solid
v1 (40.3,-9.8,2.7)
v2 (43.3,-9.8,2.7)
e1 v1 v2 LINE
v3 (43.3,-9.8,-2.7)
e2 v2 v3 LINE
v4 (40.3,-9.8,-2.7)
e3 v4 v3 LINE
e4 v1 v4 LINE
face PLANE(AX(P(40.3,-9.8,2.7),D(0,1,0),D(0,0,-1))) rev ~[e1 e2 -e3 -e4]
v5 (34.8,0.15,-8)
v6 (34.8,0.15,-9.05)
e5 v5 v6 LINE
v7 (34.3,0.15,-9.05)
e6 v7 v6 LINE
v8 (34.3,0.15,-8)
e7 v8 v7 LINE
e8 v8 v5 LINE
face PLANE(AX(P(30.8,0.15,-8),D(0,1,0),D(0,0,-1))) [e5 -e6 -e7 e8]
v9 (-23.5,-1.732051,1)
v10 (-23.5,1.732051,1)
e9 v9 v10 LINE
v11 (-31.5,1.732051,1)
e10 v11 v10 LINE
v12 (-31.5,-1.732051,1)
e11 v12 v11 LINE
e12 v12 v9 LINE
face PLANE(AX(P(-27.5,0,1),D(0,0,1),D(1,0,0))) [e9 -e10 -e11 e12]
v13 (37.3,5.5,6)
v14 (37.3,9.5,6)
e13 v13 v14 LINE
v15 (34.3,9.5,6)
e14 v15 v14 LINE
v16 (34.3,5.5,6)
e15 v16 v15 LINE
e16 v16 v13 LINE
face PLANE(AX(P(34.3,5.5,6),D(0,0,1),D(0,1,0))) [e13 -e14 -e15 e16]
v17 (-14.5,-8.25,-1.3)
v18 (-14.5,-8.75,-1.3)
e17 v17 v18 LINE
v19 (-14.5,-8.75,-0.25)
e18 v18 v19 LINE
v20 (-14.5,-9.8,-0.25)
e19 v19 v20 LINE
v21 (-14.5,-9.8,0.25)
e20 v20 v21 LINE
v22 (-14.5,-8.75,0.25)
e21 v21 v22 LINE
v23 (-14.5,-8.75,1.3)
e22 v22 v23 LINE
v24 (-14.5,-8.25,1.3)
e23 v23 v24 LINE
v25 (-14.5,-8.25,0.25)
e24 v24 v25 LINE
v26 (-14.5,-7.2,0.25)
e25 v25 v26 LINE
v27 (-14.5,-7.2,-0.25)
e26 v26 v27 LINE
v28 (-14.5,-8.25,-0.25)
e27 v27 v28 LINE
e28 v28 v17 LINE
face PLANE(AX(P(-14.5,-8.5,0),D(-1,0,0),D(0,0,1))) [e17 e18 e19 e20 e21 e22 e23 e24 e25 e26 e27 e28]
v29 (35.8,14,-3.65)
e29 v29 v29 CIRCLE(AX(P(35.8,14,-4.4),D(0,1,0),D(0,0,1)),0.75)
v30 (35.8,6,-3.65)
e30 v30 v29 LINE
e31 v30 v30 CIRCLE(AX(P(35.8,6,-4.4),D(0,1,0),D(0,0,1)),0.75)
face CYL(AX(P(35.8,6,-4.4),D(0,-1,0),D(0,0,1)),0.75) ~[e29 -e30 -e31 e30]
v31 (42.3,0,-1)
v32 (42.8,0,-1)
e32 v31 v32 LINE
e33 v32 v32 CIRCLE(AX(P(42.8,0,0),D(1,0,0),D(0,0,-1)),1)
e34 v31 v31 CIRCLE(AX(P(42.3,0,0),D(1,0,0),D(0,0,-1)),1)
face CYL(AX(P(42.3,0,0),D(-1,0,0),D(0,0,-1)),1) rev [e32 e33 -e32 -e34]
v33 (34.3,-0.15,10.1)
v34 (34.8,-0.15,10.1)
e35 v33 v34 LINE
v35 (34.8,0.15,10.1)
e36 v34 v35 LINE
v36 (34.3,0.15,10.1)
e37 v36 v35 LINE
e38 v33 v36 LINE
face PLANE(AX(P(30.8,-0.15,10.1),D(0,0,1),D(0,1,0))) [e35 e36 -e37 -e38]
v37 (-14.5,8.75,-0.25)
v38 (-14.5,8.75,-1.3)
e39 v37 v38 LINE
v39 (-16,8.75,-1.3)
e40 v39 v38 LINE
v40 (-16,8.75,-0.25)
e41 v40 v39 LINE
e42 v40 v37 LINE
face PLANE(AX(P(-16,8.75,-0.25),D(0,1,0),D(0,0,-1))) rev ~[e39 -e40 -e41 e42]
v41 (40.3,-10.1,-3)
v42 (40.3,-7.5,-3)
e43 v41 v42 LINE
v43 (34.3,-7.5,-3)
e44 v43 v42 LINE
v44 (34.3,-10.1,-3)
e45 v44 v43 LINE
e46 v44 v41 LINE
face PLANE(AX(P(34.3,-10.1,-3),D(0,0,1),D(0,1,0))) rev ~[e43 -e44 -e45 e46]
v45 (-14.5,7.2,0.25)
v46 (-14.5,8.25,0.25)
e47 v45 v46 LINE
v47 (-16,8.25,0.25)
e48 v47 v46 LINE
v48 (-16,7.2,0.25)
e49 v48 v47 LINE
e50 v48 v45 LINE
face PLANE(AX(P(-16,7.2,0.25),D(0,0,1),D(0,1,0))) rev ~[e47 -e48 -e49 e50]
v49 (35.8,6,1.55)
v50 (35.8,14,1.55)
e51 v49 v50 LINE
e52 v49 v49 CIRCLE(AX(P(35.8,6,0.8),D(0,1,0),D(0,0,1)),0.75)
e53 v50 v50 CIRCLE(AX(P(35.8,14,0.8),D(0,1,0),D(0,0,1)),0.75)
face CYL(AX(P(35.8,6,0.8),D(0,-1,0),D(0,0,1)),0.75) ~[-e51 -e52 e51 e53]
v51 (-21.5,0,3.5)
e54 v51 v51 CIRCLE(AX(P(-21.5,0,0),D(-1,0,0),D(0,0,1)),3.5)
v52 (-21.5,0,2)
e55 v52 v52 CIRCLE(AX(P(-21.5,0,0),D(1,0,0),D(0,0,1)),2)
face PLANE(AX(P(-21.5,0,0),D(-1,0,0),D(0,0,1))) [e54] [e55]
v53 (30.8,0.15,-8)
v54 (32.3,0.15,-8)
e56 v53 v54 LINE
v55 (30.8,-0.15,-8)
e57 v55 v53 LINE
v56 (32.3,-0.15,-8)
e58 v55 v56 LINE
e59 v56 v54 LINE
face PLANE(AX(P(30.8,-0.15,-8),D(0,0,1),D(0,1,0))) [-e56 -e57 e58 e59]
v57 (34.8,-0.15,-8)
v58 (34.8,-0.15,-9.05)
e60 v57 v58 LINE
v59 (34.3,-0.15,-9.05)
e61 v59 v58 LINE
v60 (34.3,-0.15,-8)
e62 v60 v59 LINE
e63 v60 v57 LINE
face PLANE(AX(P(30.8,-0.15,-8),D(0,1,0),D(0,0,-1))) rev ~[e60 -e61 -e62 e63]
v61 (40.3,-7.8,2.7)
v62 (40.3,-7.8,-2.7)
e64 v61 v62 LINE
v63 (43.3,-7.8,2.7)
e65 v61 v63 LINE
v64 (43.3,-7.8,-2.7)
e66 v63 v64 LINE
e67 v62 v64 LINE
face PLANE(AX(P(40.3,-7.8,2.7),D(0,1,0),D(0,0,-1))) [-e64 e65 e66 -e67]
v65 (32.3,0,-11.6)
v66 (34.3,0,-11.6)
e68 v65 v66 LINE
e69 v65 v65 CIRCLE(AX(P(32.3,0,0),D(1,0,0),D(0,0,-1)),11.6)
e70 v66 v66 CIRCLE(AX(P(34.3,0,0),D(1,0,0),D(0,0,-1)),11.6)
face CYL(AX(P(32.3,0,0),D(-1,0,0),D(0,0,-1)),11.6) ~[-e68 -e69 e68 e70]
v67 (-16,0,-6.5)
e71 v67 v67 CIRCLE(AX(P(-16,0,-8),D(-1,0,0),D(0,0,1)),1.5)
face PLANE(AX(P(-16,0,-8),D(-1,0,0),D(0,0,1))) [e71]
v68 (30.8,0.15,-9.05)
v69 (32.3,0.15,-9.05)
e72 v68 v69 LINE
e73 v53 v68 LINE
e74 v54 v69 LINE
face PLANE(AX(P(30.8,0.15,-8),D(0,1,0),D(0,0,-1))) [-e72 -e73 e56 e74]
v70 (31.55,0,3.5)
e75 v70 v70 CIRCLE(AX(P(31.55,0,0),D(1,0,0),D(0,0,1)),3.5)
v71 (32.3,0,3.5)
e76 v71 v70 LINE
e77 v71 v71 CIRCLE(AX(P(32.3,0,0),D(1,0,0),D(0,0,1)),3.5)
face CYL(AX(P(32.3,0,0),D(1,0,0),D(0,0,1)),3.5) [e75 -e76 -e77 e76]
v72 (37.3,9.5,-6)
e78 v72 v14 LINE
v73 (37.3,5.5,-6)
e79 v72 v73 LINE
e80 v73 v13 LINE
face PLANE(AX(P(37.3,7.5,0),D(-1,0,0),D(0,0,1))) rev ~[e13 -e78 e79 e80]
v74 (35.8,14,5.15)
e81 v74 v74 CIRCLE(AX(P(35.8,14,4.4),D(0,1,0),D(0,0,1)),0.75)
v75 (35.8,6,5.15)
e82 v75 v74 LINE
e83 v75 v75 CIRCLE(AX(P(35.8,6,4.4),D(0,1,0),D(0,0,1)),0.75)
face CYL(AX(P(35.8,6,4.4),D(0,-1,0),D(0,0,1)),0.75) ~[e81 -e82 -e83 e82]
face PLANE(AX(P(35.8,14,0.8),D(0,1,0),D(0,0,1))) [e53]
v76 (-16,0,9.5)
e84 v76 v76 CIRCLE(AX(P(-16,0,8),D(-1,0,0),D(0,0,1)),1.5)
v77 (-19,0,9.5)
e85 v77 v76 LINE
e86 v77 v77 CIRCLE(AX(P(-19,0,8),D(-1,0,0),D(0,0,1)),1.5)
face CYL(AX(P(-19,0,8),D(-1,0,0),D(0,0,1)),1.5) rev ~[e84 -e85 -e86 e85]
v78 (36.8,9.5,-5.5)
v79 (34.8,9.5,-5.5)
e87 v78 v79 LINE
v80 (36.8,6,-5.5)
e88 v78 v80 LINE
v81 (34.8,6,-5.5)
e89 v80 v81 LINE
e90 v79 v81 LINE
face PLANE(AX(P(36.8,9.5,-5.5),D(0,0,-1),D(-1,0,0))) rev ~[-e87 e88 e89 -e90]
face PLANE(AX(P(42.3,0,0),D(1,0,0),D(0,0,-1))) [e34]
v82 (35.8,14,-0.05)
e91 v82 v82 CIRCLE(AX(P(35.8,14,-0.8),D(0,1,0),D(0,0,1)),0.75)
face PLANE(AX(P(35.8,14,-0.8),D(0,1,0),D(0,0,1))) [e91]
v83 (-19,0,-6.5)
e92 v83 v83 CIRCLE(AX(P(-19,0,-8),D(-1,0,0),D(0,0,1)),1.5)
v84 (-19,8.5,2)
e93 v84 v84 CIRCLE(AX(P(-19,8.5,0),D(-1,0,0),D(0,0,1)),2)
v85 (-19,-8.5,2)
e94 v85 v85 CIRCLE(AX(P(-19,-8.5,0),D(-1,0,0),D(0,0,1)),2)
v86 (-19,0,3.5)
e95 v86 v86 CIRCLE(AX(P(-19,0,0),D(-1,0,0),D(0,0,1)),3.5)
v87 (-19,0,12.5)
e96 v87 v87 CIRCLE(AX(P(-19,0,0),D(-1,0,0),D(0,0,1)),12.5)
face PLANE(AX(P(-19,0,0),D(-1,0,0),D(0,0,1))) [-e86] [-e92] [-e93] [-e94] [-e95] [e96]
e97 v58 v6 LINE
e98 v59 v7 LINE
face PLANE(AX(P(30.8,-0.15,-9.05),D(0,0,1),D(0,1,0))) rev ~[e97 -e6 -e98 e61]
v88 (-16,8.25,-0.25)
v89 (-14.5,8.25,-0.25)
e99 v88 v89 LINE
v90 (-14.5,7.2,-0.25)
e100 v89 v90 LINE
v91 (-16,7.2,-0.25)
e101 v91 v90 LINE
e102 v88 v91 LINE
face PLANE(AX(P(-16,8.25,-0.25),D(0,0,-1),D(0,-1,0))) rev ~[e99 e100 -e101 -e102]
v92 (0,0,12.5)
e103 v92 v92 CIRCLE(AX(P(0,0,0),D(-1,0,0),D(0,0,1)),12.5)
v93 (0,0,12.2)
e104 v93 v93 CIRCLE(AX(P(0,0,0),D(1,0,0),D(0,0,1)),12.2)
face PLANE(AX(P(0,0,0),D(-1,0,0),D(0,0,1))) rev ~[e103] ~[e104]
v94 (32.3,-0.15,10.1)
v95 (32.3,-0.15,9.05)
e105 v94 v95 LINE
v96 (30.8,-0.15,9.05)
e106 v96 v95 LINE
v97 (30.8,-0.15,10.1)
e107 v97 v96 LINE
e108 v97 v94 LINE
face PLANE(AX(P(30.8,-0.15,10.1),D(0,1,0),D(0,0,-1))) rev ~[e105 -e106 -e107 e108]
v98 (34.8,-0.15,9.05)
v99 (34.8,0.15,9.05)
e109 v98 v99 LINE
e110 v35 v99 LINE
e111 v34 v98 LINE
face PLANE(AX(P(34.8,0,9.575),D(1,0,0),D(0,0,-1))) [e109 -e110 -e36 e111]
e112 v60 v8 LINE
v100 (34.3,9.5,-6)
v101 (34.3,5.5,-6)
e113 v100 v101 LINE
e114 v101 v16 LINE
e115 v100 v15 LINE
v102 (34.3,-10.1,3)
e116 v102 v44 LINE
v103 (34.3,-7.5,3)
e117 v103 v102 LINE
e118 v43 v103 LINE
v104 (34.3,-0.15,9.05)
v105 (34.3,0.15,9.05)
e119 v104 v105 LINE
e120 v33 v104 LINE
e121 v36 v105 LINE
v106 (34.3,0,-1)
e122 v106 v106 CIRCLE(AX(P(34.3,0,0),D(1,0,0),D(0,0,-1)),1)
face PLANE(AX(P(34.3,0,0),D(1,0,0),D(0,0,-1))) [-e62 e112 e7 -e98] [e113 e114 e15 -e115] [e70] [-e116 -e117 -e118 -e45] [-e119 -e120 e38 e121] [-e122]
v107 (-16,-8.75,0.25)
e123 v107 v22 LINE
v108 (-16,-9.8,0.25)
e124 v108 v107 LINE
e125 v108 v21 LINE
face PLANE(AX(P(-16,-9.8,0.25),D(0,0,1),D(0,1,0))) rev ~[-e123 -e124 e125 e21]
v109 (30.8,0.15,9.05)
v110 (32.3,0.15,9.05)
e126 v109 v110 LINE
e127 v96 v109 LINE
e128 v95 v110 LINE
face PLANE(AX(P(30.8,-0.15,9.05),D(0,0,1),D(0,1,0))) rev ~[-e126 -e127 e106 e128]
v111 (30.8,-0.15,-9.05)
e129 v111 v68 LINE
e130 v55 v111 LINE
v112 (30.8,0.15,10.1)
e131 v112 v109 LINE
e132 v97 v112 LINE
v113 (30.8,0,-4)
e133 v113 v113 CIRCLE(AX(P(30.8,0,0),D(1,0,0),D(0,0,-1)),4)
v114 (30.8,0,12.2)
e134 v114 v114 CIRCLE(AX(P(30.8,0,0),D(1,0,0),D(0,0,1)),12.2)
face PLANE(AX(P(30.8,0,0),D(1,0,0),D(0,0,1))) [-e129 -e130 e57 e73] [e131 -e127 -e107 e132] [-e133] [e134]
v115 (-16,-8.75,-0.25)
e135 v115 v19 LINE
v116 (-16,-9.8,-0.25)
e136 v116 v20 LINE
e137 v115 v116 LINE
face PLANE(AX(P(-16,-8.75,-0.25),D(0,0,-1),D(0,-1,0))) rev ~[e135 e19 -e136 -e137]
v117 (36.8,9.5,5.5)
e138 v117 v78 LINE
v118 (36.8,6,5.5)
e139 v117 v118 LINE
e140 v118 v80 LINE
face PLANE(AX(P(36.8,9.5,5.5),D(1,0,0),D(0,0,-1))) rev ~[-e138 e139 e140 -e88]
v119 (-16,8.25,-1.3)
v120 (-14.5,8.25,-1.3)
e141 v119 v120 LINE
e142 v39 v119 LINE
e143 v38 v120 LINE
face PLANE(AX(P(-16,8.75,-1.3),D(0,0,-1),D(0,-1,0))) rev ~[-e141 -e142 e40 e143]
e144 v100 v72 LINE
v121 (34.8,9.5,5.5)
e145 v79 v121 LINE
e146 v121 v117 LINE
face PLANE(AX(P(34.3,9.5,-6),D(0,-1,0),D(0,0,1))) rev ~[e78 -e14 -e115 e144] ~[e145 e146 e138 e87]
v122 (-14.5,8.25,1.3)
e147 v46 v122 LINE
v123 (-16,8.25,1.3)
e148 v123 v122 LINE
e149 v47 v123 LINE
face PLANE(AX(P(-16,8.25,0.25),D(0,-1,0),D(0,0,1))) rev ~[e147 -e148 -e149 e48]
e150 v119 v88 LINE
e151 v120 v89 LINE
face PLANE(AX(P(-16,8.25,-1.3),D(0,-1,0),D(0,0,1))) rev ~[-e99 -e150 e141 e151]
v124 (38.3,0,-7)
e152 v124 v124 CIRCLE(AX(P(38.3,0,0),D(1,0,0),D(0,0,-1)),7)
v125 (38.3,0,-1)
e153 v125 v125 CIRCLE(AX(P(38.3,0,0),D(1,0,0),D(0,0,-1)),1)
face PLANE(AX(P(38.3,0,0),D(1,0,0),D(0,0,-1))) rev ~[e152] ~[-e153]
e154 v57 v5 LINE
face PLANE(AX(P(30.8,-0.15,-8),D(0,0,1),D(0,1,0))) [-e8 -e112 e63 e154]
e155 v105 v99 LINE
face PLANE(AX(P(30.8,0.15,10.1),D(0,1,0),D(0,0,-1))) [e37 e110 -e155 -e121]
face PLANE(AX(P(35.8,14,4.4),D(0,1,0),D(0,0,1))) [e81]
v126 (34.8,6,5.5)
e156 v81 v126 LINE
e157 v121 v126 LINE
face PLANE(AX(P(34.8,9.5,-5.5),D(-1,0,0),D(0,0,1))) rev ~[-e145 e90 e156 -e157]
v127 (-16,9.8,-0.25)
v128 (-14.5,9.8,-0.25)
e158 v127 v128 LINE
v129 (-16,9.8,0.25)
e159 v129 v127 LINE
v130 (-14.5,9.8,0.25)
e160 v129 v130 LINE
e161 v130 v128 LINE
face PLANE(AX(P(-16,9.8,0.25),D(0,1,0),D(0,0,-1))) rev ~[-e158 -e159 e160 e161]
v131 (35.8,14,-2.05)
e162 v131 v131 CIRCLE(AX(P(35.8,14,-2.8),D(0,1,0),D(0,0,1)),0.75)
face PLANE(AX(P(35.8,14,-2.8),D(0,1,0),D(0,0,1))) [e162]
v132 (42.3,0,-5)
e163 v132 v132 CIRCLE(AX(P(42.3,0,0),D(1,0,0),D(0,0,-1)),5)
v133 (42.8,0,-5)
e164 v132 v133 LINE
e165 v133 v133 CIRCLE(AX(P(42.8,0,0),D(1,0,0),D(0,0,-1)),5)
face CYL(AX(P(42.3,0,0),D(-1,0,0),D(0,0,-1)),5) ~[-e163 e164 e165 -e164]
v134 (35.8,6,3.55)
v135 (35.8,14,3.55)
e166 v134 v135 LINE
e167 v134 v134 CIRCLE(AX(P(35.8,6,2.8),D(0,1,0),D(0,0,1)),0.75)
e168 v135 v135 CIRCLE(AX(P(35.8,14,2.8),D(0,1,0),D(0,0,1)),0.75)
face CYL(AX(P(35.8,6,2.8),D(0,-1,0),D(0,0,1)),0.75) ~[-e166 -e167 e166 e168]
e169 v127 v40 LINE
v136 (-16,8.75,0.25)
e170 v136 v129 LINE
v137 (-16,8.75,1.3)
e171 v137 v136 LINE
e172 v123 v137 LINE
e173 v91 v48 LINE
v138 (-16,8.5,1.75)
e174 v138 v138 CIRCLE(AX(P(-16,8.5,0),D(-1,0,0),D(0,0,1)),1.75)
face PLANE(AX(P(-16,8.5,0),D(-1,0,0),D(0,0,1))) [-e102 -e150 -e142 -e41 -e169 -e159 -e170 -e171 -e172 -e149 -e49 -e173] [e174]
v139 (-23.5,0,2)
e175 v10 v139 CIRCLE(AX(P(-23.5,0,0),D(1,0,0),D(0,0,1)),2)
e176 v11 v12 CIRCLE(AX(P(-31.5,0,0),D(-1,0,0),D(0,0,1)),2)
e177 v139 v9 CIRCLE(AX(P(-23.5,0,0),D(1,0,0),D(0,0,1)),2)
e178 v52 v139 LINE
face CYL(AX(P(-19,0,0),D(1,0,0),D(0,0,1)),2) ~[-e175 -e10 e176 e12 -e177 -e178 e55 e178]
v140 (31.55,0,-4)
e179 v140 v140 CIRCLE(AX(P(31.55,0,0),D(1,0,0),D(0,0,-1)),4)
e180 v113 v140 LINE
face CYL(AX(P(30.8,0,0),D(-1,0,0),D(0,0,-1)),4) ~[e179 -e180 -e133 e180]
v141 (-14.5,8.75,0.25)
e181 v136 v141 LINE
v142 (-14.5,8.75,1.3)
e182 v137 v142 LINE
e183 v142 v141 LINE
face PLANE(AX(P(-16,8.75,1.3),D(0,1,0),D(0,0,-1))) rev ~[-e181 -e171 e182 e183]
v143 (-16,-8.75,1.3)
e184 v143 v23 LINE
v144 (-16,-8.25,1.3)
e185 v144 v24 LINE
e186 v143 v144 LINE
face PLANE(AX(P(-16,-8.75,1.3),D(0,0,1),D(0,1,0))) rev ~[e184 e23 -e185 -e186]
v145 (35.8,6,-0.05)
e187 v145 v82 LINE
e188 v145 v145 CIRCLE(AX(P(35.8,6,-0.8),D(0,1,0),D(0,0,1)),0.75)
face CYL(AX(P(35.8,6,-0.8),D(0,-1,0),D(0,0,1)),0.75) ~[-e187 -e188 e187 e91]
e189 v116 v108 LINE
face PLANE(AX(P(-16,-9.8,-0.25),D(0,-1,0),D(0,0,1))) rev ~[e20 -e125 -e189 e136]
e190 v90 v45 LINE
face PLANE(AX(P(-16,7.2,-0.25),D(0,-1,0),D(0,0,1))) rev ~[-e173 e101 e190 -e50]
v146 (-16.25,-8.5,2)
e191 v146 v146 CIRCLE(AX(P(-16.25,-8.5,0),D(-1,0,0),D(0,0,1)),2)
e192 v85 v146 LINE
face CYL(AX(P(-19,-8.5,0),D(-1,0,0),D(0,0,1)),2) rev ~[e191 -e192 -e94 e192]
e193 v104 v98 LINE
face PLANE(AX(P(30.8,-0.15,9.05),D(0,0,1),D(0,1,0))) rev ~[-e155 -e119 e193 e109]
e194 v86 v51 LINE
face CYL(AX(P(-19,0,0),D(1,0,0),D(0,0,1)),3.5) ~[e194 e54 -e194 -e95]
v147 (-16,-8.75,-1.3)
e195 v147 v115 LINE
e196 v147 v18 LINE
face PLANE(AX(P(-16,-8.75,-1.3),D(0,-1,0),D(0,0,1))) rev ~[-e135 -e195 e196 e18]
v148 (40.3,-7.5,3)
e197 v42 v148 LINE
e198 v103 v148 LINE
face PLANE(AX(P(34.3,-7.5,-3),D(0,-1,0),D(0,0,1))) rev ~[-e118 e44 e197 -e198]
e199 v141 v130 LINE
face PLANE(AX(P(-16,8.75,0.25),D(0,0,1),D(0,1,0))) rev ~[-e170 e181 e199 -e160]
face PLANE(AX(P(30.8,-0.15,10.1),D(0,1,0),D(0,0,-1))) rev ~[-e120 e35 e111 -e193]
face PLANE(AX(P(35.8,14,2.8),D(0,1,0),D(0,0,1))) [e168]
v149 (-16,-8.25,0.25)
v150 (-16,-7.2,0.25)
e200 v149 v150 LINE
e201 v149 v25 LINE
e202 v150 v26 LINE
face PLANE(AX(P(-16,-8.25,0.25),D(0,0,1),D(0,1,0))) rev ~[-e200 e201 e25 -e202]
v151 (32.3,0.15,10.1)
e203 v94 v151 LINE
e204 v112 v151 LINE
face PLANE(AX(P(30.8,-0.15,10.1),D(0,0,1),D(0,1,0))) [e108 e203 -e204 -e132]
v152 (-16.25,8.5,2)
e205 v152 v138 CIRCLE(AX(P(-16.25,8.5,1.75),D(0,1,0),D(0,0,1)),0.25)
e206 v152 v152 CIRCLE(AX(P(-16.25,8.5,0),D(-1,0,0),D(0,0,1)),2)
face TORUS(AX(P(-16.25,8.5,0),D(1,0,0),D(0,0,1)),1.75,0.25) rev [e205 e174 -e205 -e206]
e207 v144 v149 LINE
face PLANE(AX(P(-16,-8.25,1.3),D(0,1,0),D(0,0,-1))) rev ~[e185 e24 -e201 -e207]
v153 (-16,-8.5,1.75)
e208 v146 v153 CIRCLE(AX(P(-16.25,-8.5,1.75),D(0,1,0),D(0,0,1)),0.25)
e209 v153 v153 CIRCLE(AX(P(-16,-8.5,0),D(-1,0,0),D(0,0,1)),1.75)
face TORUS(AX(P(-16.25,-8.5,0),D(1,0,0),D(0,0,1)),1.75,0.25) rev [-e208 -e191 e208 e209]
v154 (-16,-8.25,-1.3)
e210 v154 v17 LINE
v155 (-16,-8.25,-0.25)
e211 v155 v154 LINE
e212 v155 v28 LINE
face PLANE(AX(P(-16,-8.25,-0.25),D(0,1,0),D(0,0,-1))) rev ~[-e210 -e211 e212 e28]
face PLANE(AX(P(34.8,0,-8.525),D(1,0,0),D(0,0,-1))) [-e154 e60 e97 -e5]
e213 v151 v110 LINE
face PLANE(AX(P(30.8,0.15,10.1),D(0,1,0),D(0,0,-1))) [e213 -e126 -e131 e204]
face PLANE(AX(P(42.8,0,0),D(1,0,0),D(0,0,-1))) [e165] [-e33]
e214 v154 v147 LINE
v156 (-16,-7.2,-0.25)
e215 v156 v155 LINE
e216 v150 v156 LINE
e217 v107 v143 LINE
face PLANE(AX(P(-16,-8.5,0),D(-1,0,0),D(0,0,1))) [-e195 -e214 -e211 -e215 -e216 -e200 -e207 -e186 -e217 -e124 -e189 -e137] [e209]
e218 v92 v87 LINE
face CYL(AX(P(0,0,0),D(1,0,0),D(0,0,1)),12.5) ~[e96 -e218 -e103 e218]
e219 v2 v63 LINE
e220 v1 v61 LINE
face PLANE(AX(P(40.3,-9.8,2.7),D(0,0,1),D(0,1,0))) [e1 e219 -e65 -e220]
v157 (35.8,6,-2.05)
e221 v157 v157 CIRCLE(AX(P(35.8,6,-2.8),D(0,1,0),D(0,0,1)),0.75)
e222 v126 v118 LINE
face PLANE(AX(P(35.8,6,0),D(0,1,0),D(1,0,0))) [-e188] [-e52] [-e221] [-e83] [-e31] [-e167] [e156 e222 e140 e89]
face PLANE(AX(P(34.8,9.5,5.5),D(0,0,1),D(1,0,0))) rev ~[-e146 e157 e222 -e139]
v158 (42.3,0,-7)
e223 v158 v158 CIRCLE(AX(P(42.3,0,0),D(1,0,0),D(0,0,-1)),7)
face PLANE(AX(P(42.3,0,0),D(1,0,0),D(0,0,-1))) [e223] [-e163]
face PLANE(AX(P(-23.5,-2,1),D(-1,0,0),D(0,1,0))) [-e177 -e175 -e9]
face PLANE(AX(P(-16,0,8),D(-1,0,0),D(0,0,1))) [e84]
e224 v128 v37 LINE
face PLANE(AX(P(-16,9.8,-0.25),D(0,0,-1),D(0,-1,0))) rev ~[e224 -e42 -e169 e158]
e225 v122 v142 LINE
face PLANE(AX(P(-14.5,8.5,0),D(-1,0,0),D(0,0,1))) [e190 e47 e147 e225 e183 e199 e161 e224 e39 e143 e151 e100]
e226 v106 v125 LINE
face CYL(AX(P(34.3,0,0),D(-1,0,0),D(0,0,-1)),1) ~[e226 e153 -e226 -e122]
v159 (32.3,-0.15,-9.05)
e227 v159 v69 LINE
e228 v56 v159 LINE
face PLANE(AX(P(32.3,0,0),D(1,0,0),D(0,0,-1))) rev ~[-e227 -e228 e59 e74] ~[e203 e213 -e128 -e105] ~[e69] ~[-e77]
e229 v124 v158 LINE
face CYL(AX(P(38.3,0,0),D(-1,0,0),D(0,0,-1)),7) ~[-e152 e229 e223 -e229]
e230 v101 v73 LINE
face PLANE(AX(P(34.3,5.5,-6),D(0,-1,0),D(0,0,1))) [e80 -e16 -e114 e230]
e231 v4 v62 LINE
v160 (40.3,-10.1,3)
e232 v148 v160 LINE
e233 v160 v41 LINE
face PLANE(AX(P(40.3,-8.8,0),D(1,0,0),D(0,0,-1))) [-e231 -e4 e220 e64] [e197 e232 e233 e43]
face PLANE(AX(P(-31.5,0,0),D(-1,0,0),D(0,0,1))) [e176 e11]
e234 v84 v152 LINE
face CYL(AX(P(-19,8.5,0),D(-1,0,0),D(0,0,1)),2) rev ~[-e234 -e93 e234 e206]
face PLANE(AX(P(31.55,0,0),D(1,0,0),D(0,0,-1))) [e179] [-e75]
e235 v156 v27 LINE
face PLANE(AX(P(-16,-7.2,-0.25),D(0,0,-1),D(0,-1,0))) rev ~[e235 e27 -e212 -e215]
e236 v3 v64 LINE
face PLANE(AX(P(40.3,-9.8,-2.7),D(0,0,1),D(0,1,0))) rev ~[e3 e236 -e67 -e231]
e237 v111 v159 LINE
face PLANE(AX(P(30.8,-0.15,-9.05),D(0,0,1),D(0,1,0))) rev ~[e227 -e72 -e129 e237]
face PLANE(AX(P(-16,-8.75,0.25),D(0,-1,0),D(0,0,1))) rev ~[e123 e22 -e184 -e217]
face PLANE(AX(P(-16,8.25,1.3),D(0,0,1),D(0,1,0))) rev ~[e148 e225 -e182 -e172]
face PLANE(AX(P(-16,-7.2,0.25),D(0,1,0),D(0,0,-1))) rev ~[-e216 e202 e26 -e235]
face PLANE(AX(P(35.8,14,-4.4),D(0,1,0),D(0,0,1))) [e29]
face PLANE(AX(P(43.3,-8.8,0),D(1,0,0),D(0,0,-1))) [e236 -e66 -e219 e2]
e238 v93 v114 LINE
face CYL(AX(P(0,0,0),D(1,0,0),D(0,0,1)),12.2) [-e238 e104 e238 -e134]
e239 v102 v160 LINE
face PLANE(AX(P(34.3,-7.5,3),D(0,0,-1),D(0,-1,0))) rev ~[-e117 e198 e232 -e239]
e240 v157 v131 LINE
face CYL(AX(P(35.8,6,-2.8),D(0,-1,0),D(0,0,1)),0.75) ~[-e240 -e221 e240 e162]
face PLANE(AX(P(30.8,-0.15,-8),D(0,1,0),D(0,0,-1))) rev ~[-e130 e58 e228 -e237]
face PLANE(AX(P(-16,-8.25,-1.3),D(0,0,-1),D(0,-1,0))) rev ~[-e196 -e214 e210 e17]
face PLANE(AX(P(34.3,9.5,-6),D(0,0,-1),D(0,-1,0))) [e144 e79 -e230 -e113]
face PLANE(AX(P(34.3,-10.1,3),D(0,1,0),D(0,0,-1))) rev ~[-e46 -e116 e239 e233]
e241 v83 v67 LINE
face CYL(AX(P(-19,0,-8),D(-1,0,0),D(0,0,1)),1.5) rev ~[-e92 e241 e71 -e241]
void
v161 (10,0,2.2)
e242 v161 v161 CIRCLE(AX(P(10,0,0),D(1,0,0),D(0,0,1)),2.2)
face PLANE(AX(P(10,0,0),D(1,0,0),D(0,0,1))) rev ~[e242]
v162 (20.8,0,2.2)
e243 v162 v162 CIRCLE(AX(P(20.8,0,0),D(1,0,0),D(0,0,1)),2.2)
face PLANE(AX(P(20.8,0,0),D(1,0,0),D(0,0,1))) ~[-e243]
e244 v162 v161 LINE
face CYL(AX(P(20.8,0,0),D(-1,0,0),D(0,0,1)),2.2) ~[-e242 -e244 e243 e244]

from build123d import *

# Parameters (mm, degrees)
CROQUIS3_R               = 12.5
SALIENTE_EXTRUIR1_DEPTH  = 19
CROQUIS8_R               = 3.5
SALIENTE_EXTRUIR3_DEPTH  = 2.5
CROQUIS9_R               = 2
SALIENTE_EXTRUIR4_DEPTH  = 12.5
CROQUIS10_W              = 8
CROQUIS10_H              = 4
CORTAR_EXTRUIR5_DEPTH    = 5
CROQUIS11_R              = 1.5
CORTAR_EXTRUIR6_DEPTH    = 3
CROQUIS12_R              = 2
CORTAR_EXTRUIR7_DEPTH    = 3
CORTAR_EXTRUIR8_DEPTH    = 1.5
CORTAR_EXTRUIR9_DEPTH    = 1.5
REDONDEO1_R              = 0.25
CROQUIS16_W              = 1.05
CROQUIS16_H              = 0.3
SALIENTE_EXTRUIR5_DEPTH  = 4
CROQUIS17_R              = 4
SALIENTE_EXTRUIR6_DEPTH  = 0.75
SALIENTE_EXTRUIR7_START  = 0.75
CROQUIS18_R              = 3.5
SALIENTE_EXTRUIR7_DEPTH  = 0.75
CROQUIS19_R              = 11.6
SALIENTE_EXTRUIR8_DEPTH  = 2
CROQUIS20_R              = 1
SALIENTE_EXTRUIR9_DEPTH  = 4
CROQUIS21_R              = 7
SALIENTE_EXTRUIR10_DEPTH = 4
CROQUIS22_R              = 5
SALIENTE_EXTRUIR11_DEPTH = 0.5
CORTAR_EXTRUIR10_START   = -0.5
CROQUIS23_R              = 1
CORTAR_EXTRUIR10_DEPTH   = 0.5
SALIENTE_EXTRUIR12_DEPTH = 3
CORTAR_EXTRUIR11_DEPTH   = 3.5
CROQUIS26_R              = 0.75
SALIENTE_EXTRUIR13_DEPTH = 8
SALIENTE_EXTRUIR14_DEPTH = 6
CROQUIS28_W              = 5.4
CROQUIS28_H              = 2
SALIENTE_EXTRUIR15_DEPTH = 3


with BuildPart() as part:
    # Croquis1 → Revolución-Lámina1 (revolve)
    with BuildSketch(Plane.XY, mode=Mode.PRIVATE) as revoluci_n_l_mina1_sk:
        Polygon((0, 0), (0, 12.2), (30.8, 12.2), (30.8, 0), (20.8, 0), (20.8, 2.2), (10, 2.2), (10, 0), align=None)
    revolve(revoluci_n_l_mina1_sk.sketch.rotate(Axis((0, 0, 0), (1, 0, 0)), 90), axis=Axis((0, 0, 0), (1, 0, 0)))

    # Croquis3 → Saliente-Extruir1 (add)
    with BuildSketch(Plane.ZY):
        Circle(CROQUIS3_R)
    extrude(amount=SALIENTE_EXTRUIR1_DEPTH)

    # Croquis8 → Saliente-Extruir3 (add)
    with BuildSketch(Plane.ZY.offset(19)):
        Circle(CROQUIS8_R)
    extrude(amount=SALIENTE_EXTRUIR3_DEPTH)

    # Croquis9 → Saliente-Extruir4 (add)
    with BuildSketch(Plane.ZY.offset(19)):
        Circle(CROQUIS9_R)
    extrude(amount=SALIENTE_EXTRUIR4_DEPTH)

    # Croquis10 → Cortar-Extruir5 (cut)
    with BuildSketch(Plane.XY.offset(1)):
        with Locations((-27.5, 0)):
            Rectangle(CROQUIS10_W, CROQUIS10_H)
    extrude(amount=CORTAR_EXTRUIR5_DEPTH, mode=Mode.SUBTRACT)

    # Croquis11 → Cortar-Extruir6 (cut)
    with BuildSketch(Plane.ZY.offset(19)):
        with Locations((-8, 0)):
            Circle(CROQUIS11_R)
        with Locations((8, 0)):
            Circle(CROQUIS11_R)
    extrude(amount=-CORTAR_EXTRUIR6_DEPTH, mode=Mode.SUBTRACT)

    # Croquis12 → Cortar-Extruir7 (cut)
    with BuildSketch(Plane.ZY.offset(19)):
        with Locations((0, -8.5)):
            Circle(CROQUIS12_R)
        with Locations((0, 8.5)):
            Circle(CROQUIS12_R)
    extrude(amount=-CORTAR_EXTRUIR7_DEPTH, mode=Mode.SUBTRACT)

    # Croquis14 → Cortar-Extruir8 (cut)
    with BuildSketch(Plane.ZY.offset(16)):
        Polygon((-0.25, 8.25), (-0.25, 7.2), (0.25, 7.2), (0.25, 8.25), (1.3, 8.25), (1.3, 8.75), (0.25, 8.75), (0.25, 9.8), (-0.25, 9.8), (-0.25, 8.75), (-1.3, 8.75), (-1.3, 8.25), align=None)
    extrude(amount=-CORTAR_EXTRUIR8_DEPTH, mode=Mode.SUBTRACT)

    # Croquis15 → Cortar-Extruir9 (cut)
    with BuildSketch(Plane.ZY.offset(16)):
        Polygon((-0.25, -8.75), (-0.25, -9.8), (0.25, -9.8), (0.25, -8.75), (1.3, -8.75), (1.3, -8.25), (0.25, -8.25), (0.25, -7.2), (-0.25, -7.2), (-0.25, -8.25), (-1.3, -8.25), (-1.3, -8.75), align=None)
    extrude(amount=-CORTAR_EXTRUIR9_DEPTH, mode=Mode.SUBTRACT)

    # Redondeo1
    redondeo1_edges = [part.edges().sort_by_distance(p)[0] for p in [
        (-16, -8.5, -2),
        (-16, 8.5, -2),
    ]]
    fillet(redondeo1_edges, radius=REDONDEO1_R)

    # Croquis16 → Saliente-Extruir5 (add)
    with BuildSketch(Plane(origin=(30.8, 0, 0), x_dir=(0, 0, -1), z_dir=(1, 0, 0))):
        with Locations((-9.575, 0)):
            Rectangle(CROQUIS16_W, CROQUIS16_H)
        with Locations((8.525, 0)):
            Rectangle(CROQUIS16_W, CROQUIS16_H)
    extrude(amount=SALIENTE_EXTRUIR5_DEPTH)

    # Croquis17 → Saliente-Extruir6 (add)
    with BuildSketch(Plane(origin=(30.8, 0, 0), x_dir=(0, 0, -1), z_dir=(1, 0, 0))):
        Circle(CROQUIS17_R)
    extrude(amount=SALIENTE_EXTRUIR6_DEPTH)

    # Croquis18 → Saliente-Extruir7 (add)
    with BuildSketch(Plane(origin=(31.55, 0, 0), x_dir=(0, 0, -1), z_dir=(1, 0, 0)).offset(SALIENTE_EXTRUIR7_START)):
        with Locations(Location((0, 0, 0), (0, 0, 180))):
            Circle(CROQUIS18_R)
    extrude(amount=-SALIENTE_EXTRUIR7_DEPTH)

    # Croquis19 → Saliente-Extruir8 (add)
    with BuildSketch(Plane(origin=(32.3, 0, 0), x_dir=(0, 0, -1), z_dir=(1, 0, 0))):
        Circle(CROQUIS19_R)
    extrude(amount=SALIENTE_EXTRUIR8_DEPTH)

    # Croquis20 → Saliente-Extruir9 (add)
    with BuildSketch(Plane(origin=(34.3, 0, 0), x_dir=(0, 0, -1), z_dir=(1, 0, 0))):
        Circle(CROQUIS20_R)
    extrude(amount=SALIENTE_EXTRUIR9_DEPTH)

    # Croquis21 → Saliente-Extruir10 (add)
    with BuildSketch(Plane(origin=(38.3, 0, 0), x_dir=(0, 0, -1), z_dir=(1, 0, 0))):
        Circle(CROQUIS21_R)
    extrude(amount=SALIENTE_EXTRUIR10_DEPTH)

    # Croquis22 → Saliente-Extruir11 (add)
    with BuildSketch(Plane(origin=(42.3, 0, 0), x_dir=(0, 0, -1), z_dir=(1, 0, 0))):
        Circle(CROQUIS22_R)
    extrude(amount=SALIENTE_EXTRUIR11_DEPTH)

    # Croquis23 → Cortar-Extruir10 (cut)
    with BuildSketch(Plane(origin=(42.8, 0, 0), x_dir=(0, 0, -1), z_dir=(1, 0, 0)).offset(CORTAR_EXTRUIR10_START)):
        Circle(CROQUIS23_R)
    extrude(amount=CORTAR_EXTRUIR10_DEPTH, mode=Mode.SUBTRACT)

    # Croquis24 → Saliente-Extruir12 (add)
    with BuildSketch(Plane(origin=(34.3, 0, 0), x_dir=(0, 0, -1), z_dir=(1, 0, 0))):
        Polygon((0, 9.5), (6, 9.5), (6, 5.5), (-6, 5.5), (-6, 9.5), align=None)
    extrude(amount=SALIENTE_EXTRUIR12_DEPTH)

    # Croquis25 → Cortar-Extruir11 (cut)
    with BuildSketch(Plane(origin=(0, 9.5, 0), x_dir=(1, 0, 0), z_dir=(0, 1, 0))):
        Polygon((36.8, -5.5), (36.8, 5.5), (34.8, 5.5), (34.8, -5.5), (35.8, -5.5), align=None)
    extrude(amount=-CORTAR_EXTRUIR11_DEPTH, mode=Mode.SUBTRACT)

    # Croquis26 → Saliente-Extruir13 (add)
    with BuildSketch(Plane(origin=(0, 6, 0), x_dir=(1, 0, 0), z_dir=(0, 1, 0))):
        with Locations(Location((35.8, -4.4, 0), (0, 0, 270))):
            Circle(CROQUIS26_R)
        with Locations(Location((35.8, -2.8, 0), (0, 0, 270))):
            Circle(CROQUIS26_R)
        with Locations(Location((35.8, -0.8, 0), (0, 0, 270))):
            Circle(CROQUIS26_R)
        with Locations(Location((35.8, 0.8, 0), (0, 0, 270))):
            Circle(CROQUIS26_R)
        with Locations(Location((35.8, 2.8, 0), (0, 0, 270))):
            Circle(CROQUIS26_R)
        with Locations(Location((35.8, 4.4, 0), (0, 0, 270))):
            Circle(CROQUIS26_R)
    extrude(amount=SALIENTE_EXTRUIR13_DEPTH)

    # Croquis27 → Saliente-Extruir14 (add)
    with BuildSketch(Plane(origin=(34.3, 0, 0), x_dir=(0, 0, -1), z_dir=(1, 0, 0))):
        Polygon((0, -10.1), (3, -10.1), (3, -7.5), (-3, -7.5), (-3, -10.1), align=None)
    extrude(amount=SALIENTE_EXTRUIR14_DEPTH)

    # Croquis28 → Saliente-Extruir15 (add)
    with BuildSketch(Plane(origin=(40.3, 0, 0), x_dir=(0, 0, -1), z_dir=(1, 0, 0))):
        with Locations((0, -8.8)):
            Rectangle(CROQUIS28_W, CROQUIS28_H)
    extrude(amount=SALIENTE_EXTRUIR15_DEPTH)


solid = part.part
